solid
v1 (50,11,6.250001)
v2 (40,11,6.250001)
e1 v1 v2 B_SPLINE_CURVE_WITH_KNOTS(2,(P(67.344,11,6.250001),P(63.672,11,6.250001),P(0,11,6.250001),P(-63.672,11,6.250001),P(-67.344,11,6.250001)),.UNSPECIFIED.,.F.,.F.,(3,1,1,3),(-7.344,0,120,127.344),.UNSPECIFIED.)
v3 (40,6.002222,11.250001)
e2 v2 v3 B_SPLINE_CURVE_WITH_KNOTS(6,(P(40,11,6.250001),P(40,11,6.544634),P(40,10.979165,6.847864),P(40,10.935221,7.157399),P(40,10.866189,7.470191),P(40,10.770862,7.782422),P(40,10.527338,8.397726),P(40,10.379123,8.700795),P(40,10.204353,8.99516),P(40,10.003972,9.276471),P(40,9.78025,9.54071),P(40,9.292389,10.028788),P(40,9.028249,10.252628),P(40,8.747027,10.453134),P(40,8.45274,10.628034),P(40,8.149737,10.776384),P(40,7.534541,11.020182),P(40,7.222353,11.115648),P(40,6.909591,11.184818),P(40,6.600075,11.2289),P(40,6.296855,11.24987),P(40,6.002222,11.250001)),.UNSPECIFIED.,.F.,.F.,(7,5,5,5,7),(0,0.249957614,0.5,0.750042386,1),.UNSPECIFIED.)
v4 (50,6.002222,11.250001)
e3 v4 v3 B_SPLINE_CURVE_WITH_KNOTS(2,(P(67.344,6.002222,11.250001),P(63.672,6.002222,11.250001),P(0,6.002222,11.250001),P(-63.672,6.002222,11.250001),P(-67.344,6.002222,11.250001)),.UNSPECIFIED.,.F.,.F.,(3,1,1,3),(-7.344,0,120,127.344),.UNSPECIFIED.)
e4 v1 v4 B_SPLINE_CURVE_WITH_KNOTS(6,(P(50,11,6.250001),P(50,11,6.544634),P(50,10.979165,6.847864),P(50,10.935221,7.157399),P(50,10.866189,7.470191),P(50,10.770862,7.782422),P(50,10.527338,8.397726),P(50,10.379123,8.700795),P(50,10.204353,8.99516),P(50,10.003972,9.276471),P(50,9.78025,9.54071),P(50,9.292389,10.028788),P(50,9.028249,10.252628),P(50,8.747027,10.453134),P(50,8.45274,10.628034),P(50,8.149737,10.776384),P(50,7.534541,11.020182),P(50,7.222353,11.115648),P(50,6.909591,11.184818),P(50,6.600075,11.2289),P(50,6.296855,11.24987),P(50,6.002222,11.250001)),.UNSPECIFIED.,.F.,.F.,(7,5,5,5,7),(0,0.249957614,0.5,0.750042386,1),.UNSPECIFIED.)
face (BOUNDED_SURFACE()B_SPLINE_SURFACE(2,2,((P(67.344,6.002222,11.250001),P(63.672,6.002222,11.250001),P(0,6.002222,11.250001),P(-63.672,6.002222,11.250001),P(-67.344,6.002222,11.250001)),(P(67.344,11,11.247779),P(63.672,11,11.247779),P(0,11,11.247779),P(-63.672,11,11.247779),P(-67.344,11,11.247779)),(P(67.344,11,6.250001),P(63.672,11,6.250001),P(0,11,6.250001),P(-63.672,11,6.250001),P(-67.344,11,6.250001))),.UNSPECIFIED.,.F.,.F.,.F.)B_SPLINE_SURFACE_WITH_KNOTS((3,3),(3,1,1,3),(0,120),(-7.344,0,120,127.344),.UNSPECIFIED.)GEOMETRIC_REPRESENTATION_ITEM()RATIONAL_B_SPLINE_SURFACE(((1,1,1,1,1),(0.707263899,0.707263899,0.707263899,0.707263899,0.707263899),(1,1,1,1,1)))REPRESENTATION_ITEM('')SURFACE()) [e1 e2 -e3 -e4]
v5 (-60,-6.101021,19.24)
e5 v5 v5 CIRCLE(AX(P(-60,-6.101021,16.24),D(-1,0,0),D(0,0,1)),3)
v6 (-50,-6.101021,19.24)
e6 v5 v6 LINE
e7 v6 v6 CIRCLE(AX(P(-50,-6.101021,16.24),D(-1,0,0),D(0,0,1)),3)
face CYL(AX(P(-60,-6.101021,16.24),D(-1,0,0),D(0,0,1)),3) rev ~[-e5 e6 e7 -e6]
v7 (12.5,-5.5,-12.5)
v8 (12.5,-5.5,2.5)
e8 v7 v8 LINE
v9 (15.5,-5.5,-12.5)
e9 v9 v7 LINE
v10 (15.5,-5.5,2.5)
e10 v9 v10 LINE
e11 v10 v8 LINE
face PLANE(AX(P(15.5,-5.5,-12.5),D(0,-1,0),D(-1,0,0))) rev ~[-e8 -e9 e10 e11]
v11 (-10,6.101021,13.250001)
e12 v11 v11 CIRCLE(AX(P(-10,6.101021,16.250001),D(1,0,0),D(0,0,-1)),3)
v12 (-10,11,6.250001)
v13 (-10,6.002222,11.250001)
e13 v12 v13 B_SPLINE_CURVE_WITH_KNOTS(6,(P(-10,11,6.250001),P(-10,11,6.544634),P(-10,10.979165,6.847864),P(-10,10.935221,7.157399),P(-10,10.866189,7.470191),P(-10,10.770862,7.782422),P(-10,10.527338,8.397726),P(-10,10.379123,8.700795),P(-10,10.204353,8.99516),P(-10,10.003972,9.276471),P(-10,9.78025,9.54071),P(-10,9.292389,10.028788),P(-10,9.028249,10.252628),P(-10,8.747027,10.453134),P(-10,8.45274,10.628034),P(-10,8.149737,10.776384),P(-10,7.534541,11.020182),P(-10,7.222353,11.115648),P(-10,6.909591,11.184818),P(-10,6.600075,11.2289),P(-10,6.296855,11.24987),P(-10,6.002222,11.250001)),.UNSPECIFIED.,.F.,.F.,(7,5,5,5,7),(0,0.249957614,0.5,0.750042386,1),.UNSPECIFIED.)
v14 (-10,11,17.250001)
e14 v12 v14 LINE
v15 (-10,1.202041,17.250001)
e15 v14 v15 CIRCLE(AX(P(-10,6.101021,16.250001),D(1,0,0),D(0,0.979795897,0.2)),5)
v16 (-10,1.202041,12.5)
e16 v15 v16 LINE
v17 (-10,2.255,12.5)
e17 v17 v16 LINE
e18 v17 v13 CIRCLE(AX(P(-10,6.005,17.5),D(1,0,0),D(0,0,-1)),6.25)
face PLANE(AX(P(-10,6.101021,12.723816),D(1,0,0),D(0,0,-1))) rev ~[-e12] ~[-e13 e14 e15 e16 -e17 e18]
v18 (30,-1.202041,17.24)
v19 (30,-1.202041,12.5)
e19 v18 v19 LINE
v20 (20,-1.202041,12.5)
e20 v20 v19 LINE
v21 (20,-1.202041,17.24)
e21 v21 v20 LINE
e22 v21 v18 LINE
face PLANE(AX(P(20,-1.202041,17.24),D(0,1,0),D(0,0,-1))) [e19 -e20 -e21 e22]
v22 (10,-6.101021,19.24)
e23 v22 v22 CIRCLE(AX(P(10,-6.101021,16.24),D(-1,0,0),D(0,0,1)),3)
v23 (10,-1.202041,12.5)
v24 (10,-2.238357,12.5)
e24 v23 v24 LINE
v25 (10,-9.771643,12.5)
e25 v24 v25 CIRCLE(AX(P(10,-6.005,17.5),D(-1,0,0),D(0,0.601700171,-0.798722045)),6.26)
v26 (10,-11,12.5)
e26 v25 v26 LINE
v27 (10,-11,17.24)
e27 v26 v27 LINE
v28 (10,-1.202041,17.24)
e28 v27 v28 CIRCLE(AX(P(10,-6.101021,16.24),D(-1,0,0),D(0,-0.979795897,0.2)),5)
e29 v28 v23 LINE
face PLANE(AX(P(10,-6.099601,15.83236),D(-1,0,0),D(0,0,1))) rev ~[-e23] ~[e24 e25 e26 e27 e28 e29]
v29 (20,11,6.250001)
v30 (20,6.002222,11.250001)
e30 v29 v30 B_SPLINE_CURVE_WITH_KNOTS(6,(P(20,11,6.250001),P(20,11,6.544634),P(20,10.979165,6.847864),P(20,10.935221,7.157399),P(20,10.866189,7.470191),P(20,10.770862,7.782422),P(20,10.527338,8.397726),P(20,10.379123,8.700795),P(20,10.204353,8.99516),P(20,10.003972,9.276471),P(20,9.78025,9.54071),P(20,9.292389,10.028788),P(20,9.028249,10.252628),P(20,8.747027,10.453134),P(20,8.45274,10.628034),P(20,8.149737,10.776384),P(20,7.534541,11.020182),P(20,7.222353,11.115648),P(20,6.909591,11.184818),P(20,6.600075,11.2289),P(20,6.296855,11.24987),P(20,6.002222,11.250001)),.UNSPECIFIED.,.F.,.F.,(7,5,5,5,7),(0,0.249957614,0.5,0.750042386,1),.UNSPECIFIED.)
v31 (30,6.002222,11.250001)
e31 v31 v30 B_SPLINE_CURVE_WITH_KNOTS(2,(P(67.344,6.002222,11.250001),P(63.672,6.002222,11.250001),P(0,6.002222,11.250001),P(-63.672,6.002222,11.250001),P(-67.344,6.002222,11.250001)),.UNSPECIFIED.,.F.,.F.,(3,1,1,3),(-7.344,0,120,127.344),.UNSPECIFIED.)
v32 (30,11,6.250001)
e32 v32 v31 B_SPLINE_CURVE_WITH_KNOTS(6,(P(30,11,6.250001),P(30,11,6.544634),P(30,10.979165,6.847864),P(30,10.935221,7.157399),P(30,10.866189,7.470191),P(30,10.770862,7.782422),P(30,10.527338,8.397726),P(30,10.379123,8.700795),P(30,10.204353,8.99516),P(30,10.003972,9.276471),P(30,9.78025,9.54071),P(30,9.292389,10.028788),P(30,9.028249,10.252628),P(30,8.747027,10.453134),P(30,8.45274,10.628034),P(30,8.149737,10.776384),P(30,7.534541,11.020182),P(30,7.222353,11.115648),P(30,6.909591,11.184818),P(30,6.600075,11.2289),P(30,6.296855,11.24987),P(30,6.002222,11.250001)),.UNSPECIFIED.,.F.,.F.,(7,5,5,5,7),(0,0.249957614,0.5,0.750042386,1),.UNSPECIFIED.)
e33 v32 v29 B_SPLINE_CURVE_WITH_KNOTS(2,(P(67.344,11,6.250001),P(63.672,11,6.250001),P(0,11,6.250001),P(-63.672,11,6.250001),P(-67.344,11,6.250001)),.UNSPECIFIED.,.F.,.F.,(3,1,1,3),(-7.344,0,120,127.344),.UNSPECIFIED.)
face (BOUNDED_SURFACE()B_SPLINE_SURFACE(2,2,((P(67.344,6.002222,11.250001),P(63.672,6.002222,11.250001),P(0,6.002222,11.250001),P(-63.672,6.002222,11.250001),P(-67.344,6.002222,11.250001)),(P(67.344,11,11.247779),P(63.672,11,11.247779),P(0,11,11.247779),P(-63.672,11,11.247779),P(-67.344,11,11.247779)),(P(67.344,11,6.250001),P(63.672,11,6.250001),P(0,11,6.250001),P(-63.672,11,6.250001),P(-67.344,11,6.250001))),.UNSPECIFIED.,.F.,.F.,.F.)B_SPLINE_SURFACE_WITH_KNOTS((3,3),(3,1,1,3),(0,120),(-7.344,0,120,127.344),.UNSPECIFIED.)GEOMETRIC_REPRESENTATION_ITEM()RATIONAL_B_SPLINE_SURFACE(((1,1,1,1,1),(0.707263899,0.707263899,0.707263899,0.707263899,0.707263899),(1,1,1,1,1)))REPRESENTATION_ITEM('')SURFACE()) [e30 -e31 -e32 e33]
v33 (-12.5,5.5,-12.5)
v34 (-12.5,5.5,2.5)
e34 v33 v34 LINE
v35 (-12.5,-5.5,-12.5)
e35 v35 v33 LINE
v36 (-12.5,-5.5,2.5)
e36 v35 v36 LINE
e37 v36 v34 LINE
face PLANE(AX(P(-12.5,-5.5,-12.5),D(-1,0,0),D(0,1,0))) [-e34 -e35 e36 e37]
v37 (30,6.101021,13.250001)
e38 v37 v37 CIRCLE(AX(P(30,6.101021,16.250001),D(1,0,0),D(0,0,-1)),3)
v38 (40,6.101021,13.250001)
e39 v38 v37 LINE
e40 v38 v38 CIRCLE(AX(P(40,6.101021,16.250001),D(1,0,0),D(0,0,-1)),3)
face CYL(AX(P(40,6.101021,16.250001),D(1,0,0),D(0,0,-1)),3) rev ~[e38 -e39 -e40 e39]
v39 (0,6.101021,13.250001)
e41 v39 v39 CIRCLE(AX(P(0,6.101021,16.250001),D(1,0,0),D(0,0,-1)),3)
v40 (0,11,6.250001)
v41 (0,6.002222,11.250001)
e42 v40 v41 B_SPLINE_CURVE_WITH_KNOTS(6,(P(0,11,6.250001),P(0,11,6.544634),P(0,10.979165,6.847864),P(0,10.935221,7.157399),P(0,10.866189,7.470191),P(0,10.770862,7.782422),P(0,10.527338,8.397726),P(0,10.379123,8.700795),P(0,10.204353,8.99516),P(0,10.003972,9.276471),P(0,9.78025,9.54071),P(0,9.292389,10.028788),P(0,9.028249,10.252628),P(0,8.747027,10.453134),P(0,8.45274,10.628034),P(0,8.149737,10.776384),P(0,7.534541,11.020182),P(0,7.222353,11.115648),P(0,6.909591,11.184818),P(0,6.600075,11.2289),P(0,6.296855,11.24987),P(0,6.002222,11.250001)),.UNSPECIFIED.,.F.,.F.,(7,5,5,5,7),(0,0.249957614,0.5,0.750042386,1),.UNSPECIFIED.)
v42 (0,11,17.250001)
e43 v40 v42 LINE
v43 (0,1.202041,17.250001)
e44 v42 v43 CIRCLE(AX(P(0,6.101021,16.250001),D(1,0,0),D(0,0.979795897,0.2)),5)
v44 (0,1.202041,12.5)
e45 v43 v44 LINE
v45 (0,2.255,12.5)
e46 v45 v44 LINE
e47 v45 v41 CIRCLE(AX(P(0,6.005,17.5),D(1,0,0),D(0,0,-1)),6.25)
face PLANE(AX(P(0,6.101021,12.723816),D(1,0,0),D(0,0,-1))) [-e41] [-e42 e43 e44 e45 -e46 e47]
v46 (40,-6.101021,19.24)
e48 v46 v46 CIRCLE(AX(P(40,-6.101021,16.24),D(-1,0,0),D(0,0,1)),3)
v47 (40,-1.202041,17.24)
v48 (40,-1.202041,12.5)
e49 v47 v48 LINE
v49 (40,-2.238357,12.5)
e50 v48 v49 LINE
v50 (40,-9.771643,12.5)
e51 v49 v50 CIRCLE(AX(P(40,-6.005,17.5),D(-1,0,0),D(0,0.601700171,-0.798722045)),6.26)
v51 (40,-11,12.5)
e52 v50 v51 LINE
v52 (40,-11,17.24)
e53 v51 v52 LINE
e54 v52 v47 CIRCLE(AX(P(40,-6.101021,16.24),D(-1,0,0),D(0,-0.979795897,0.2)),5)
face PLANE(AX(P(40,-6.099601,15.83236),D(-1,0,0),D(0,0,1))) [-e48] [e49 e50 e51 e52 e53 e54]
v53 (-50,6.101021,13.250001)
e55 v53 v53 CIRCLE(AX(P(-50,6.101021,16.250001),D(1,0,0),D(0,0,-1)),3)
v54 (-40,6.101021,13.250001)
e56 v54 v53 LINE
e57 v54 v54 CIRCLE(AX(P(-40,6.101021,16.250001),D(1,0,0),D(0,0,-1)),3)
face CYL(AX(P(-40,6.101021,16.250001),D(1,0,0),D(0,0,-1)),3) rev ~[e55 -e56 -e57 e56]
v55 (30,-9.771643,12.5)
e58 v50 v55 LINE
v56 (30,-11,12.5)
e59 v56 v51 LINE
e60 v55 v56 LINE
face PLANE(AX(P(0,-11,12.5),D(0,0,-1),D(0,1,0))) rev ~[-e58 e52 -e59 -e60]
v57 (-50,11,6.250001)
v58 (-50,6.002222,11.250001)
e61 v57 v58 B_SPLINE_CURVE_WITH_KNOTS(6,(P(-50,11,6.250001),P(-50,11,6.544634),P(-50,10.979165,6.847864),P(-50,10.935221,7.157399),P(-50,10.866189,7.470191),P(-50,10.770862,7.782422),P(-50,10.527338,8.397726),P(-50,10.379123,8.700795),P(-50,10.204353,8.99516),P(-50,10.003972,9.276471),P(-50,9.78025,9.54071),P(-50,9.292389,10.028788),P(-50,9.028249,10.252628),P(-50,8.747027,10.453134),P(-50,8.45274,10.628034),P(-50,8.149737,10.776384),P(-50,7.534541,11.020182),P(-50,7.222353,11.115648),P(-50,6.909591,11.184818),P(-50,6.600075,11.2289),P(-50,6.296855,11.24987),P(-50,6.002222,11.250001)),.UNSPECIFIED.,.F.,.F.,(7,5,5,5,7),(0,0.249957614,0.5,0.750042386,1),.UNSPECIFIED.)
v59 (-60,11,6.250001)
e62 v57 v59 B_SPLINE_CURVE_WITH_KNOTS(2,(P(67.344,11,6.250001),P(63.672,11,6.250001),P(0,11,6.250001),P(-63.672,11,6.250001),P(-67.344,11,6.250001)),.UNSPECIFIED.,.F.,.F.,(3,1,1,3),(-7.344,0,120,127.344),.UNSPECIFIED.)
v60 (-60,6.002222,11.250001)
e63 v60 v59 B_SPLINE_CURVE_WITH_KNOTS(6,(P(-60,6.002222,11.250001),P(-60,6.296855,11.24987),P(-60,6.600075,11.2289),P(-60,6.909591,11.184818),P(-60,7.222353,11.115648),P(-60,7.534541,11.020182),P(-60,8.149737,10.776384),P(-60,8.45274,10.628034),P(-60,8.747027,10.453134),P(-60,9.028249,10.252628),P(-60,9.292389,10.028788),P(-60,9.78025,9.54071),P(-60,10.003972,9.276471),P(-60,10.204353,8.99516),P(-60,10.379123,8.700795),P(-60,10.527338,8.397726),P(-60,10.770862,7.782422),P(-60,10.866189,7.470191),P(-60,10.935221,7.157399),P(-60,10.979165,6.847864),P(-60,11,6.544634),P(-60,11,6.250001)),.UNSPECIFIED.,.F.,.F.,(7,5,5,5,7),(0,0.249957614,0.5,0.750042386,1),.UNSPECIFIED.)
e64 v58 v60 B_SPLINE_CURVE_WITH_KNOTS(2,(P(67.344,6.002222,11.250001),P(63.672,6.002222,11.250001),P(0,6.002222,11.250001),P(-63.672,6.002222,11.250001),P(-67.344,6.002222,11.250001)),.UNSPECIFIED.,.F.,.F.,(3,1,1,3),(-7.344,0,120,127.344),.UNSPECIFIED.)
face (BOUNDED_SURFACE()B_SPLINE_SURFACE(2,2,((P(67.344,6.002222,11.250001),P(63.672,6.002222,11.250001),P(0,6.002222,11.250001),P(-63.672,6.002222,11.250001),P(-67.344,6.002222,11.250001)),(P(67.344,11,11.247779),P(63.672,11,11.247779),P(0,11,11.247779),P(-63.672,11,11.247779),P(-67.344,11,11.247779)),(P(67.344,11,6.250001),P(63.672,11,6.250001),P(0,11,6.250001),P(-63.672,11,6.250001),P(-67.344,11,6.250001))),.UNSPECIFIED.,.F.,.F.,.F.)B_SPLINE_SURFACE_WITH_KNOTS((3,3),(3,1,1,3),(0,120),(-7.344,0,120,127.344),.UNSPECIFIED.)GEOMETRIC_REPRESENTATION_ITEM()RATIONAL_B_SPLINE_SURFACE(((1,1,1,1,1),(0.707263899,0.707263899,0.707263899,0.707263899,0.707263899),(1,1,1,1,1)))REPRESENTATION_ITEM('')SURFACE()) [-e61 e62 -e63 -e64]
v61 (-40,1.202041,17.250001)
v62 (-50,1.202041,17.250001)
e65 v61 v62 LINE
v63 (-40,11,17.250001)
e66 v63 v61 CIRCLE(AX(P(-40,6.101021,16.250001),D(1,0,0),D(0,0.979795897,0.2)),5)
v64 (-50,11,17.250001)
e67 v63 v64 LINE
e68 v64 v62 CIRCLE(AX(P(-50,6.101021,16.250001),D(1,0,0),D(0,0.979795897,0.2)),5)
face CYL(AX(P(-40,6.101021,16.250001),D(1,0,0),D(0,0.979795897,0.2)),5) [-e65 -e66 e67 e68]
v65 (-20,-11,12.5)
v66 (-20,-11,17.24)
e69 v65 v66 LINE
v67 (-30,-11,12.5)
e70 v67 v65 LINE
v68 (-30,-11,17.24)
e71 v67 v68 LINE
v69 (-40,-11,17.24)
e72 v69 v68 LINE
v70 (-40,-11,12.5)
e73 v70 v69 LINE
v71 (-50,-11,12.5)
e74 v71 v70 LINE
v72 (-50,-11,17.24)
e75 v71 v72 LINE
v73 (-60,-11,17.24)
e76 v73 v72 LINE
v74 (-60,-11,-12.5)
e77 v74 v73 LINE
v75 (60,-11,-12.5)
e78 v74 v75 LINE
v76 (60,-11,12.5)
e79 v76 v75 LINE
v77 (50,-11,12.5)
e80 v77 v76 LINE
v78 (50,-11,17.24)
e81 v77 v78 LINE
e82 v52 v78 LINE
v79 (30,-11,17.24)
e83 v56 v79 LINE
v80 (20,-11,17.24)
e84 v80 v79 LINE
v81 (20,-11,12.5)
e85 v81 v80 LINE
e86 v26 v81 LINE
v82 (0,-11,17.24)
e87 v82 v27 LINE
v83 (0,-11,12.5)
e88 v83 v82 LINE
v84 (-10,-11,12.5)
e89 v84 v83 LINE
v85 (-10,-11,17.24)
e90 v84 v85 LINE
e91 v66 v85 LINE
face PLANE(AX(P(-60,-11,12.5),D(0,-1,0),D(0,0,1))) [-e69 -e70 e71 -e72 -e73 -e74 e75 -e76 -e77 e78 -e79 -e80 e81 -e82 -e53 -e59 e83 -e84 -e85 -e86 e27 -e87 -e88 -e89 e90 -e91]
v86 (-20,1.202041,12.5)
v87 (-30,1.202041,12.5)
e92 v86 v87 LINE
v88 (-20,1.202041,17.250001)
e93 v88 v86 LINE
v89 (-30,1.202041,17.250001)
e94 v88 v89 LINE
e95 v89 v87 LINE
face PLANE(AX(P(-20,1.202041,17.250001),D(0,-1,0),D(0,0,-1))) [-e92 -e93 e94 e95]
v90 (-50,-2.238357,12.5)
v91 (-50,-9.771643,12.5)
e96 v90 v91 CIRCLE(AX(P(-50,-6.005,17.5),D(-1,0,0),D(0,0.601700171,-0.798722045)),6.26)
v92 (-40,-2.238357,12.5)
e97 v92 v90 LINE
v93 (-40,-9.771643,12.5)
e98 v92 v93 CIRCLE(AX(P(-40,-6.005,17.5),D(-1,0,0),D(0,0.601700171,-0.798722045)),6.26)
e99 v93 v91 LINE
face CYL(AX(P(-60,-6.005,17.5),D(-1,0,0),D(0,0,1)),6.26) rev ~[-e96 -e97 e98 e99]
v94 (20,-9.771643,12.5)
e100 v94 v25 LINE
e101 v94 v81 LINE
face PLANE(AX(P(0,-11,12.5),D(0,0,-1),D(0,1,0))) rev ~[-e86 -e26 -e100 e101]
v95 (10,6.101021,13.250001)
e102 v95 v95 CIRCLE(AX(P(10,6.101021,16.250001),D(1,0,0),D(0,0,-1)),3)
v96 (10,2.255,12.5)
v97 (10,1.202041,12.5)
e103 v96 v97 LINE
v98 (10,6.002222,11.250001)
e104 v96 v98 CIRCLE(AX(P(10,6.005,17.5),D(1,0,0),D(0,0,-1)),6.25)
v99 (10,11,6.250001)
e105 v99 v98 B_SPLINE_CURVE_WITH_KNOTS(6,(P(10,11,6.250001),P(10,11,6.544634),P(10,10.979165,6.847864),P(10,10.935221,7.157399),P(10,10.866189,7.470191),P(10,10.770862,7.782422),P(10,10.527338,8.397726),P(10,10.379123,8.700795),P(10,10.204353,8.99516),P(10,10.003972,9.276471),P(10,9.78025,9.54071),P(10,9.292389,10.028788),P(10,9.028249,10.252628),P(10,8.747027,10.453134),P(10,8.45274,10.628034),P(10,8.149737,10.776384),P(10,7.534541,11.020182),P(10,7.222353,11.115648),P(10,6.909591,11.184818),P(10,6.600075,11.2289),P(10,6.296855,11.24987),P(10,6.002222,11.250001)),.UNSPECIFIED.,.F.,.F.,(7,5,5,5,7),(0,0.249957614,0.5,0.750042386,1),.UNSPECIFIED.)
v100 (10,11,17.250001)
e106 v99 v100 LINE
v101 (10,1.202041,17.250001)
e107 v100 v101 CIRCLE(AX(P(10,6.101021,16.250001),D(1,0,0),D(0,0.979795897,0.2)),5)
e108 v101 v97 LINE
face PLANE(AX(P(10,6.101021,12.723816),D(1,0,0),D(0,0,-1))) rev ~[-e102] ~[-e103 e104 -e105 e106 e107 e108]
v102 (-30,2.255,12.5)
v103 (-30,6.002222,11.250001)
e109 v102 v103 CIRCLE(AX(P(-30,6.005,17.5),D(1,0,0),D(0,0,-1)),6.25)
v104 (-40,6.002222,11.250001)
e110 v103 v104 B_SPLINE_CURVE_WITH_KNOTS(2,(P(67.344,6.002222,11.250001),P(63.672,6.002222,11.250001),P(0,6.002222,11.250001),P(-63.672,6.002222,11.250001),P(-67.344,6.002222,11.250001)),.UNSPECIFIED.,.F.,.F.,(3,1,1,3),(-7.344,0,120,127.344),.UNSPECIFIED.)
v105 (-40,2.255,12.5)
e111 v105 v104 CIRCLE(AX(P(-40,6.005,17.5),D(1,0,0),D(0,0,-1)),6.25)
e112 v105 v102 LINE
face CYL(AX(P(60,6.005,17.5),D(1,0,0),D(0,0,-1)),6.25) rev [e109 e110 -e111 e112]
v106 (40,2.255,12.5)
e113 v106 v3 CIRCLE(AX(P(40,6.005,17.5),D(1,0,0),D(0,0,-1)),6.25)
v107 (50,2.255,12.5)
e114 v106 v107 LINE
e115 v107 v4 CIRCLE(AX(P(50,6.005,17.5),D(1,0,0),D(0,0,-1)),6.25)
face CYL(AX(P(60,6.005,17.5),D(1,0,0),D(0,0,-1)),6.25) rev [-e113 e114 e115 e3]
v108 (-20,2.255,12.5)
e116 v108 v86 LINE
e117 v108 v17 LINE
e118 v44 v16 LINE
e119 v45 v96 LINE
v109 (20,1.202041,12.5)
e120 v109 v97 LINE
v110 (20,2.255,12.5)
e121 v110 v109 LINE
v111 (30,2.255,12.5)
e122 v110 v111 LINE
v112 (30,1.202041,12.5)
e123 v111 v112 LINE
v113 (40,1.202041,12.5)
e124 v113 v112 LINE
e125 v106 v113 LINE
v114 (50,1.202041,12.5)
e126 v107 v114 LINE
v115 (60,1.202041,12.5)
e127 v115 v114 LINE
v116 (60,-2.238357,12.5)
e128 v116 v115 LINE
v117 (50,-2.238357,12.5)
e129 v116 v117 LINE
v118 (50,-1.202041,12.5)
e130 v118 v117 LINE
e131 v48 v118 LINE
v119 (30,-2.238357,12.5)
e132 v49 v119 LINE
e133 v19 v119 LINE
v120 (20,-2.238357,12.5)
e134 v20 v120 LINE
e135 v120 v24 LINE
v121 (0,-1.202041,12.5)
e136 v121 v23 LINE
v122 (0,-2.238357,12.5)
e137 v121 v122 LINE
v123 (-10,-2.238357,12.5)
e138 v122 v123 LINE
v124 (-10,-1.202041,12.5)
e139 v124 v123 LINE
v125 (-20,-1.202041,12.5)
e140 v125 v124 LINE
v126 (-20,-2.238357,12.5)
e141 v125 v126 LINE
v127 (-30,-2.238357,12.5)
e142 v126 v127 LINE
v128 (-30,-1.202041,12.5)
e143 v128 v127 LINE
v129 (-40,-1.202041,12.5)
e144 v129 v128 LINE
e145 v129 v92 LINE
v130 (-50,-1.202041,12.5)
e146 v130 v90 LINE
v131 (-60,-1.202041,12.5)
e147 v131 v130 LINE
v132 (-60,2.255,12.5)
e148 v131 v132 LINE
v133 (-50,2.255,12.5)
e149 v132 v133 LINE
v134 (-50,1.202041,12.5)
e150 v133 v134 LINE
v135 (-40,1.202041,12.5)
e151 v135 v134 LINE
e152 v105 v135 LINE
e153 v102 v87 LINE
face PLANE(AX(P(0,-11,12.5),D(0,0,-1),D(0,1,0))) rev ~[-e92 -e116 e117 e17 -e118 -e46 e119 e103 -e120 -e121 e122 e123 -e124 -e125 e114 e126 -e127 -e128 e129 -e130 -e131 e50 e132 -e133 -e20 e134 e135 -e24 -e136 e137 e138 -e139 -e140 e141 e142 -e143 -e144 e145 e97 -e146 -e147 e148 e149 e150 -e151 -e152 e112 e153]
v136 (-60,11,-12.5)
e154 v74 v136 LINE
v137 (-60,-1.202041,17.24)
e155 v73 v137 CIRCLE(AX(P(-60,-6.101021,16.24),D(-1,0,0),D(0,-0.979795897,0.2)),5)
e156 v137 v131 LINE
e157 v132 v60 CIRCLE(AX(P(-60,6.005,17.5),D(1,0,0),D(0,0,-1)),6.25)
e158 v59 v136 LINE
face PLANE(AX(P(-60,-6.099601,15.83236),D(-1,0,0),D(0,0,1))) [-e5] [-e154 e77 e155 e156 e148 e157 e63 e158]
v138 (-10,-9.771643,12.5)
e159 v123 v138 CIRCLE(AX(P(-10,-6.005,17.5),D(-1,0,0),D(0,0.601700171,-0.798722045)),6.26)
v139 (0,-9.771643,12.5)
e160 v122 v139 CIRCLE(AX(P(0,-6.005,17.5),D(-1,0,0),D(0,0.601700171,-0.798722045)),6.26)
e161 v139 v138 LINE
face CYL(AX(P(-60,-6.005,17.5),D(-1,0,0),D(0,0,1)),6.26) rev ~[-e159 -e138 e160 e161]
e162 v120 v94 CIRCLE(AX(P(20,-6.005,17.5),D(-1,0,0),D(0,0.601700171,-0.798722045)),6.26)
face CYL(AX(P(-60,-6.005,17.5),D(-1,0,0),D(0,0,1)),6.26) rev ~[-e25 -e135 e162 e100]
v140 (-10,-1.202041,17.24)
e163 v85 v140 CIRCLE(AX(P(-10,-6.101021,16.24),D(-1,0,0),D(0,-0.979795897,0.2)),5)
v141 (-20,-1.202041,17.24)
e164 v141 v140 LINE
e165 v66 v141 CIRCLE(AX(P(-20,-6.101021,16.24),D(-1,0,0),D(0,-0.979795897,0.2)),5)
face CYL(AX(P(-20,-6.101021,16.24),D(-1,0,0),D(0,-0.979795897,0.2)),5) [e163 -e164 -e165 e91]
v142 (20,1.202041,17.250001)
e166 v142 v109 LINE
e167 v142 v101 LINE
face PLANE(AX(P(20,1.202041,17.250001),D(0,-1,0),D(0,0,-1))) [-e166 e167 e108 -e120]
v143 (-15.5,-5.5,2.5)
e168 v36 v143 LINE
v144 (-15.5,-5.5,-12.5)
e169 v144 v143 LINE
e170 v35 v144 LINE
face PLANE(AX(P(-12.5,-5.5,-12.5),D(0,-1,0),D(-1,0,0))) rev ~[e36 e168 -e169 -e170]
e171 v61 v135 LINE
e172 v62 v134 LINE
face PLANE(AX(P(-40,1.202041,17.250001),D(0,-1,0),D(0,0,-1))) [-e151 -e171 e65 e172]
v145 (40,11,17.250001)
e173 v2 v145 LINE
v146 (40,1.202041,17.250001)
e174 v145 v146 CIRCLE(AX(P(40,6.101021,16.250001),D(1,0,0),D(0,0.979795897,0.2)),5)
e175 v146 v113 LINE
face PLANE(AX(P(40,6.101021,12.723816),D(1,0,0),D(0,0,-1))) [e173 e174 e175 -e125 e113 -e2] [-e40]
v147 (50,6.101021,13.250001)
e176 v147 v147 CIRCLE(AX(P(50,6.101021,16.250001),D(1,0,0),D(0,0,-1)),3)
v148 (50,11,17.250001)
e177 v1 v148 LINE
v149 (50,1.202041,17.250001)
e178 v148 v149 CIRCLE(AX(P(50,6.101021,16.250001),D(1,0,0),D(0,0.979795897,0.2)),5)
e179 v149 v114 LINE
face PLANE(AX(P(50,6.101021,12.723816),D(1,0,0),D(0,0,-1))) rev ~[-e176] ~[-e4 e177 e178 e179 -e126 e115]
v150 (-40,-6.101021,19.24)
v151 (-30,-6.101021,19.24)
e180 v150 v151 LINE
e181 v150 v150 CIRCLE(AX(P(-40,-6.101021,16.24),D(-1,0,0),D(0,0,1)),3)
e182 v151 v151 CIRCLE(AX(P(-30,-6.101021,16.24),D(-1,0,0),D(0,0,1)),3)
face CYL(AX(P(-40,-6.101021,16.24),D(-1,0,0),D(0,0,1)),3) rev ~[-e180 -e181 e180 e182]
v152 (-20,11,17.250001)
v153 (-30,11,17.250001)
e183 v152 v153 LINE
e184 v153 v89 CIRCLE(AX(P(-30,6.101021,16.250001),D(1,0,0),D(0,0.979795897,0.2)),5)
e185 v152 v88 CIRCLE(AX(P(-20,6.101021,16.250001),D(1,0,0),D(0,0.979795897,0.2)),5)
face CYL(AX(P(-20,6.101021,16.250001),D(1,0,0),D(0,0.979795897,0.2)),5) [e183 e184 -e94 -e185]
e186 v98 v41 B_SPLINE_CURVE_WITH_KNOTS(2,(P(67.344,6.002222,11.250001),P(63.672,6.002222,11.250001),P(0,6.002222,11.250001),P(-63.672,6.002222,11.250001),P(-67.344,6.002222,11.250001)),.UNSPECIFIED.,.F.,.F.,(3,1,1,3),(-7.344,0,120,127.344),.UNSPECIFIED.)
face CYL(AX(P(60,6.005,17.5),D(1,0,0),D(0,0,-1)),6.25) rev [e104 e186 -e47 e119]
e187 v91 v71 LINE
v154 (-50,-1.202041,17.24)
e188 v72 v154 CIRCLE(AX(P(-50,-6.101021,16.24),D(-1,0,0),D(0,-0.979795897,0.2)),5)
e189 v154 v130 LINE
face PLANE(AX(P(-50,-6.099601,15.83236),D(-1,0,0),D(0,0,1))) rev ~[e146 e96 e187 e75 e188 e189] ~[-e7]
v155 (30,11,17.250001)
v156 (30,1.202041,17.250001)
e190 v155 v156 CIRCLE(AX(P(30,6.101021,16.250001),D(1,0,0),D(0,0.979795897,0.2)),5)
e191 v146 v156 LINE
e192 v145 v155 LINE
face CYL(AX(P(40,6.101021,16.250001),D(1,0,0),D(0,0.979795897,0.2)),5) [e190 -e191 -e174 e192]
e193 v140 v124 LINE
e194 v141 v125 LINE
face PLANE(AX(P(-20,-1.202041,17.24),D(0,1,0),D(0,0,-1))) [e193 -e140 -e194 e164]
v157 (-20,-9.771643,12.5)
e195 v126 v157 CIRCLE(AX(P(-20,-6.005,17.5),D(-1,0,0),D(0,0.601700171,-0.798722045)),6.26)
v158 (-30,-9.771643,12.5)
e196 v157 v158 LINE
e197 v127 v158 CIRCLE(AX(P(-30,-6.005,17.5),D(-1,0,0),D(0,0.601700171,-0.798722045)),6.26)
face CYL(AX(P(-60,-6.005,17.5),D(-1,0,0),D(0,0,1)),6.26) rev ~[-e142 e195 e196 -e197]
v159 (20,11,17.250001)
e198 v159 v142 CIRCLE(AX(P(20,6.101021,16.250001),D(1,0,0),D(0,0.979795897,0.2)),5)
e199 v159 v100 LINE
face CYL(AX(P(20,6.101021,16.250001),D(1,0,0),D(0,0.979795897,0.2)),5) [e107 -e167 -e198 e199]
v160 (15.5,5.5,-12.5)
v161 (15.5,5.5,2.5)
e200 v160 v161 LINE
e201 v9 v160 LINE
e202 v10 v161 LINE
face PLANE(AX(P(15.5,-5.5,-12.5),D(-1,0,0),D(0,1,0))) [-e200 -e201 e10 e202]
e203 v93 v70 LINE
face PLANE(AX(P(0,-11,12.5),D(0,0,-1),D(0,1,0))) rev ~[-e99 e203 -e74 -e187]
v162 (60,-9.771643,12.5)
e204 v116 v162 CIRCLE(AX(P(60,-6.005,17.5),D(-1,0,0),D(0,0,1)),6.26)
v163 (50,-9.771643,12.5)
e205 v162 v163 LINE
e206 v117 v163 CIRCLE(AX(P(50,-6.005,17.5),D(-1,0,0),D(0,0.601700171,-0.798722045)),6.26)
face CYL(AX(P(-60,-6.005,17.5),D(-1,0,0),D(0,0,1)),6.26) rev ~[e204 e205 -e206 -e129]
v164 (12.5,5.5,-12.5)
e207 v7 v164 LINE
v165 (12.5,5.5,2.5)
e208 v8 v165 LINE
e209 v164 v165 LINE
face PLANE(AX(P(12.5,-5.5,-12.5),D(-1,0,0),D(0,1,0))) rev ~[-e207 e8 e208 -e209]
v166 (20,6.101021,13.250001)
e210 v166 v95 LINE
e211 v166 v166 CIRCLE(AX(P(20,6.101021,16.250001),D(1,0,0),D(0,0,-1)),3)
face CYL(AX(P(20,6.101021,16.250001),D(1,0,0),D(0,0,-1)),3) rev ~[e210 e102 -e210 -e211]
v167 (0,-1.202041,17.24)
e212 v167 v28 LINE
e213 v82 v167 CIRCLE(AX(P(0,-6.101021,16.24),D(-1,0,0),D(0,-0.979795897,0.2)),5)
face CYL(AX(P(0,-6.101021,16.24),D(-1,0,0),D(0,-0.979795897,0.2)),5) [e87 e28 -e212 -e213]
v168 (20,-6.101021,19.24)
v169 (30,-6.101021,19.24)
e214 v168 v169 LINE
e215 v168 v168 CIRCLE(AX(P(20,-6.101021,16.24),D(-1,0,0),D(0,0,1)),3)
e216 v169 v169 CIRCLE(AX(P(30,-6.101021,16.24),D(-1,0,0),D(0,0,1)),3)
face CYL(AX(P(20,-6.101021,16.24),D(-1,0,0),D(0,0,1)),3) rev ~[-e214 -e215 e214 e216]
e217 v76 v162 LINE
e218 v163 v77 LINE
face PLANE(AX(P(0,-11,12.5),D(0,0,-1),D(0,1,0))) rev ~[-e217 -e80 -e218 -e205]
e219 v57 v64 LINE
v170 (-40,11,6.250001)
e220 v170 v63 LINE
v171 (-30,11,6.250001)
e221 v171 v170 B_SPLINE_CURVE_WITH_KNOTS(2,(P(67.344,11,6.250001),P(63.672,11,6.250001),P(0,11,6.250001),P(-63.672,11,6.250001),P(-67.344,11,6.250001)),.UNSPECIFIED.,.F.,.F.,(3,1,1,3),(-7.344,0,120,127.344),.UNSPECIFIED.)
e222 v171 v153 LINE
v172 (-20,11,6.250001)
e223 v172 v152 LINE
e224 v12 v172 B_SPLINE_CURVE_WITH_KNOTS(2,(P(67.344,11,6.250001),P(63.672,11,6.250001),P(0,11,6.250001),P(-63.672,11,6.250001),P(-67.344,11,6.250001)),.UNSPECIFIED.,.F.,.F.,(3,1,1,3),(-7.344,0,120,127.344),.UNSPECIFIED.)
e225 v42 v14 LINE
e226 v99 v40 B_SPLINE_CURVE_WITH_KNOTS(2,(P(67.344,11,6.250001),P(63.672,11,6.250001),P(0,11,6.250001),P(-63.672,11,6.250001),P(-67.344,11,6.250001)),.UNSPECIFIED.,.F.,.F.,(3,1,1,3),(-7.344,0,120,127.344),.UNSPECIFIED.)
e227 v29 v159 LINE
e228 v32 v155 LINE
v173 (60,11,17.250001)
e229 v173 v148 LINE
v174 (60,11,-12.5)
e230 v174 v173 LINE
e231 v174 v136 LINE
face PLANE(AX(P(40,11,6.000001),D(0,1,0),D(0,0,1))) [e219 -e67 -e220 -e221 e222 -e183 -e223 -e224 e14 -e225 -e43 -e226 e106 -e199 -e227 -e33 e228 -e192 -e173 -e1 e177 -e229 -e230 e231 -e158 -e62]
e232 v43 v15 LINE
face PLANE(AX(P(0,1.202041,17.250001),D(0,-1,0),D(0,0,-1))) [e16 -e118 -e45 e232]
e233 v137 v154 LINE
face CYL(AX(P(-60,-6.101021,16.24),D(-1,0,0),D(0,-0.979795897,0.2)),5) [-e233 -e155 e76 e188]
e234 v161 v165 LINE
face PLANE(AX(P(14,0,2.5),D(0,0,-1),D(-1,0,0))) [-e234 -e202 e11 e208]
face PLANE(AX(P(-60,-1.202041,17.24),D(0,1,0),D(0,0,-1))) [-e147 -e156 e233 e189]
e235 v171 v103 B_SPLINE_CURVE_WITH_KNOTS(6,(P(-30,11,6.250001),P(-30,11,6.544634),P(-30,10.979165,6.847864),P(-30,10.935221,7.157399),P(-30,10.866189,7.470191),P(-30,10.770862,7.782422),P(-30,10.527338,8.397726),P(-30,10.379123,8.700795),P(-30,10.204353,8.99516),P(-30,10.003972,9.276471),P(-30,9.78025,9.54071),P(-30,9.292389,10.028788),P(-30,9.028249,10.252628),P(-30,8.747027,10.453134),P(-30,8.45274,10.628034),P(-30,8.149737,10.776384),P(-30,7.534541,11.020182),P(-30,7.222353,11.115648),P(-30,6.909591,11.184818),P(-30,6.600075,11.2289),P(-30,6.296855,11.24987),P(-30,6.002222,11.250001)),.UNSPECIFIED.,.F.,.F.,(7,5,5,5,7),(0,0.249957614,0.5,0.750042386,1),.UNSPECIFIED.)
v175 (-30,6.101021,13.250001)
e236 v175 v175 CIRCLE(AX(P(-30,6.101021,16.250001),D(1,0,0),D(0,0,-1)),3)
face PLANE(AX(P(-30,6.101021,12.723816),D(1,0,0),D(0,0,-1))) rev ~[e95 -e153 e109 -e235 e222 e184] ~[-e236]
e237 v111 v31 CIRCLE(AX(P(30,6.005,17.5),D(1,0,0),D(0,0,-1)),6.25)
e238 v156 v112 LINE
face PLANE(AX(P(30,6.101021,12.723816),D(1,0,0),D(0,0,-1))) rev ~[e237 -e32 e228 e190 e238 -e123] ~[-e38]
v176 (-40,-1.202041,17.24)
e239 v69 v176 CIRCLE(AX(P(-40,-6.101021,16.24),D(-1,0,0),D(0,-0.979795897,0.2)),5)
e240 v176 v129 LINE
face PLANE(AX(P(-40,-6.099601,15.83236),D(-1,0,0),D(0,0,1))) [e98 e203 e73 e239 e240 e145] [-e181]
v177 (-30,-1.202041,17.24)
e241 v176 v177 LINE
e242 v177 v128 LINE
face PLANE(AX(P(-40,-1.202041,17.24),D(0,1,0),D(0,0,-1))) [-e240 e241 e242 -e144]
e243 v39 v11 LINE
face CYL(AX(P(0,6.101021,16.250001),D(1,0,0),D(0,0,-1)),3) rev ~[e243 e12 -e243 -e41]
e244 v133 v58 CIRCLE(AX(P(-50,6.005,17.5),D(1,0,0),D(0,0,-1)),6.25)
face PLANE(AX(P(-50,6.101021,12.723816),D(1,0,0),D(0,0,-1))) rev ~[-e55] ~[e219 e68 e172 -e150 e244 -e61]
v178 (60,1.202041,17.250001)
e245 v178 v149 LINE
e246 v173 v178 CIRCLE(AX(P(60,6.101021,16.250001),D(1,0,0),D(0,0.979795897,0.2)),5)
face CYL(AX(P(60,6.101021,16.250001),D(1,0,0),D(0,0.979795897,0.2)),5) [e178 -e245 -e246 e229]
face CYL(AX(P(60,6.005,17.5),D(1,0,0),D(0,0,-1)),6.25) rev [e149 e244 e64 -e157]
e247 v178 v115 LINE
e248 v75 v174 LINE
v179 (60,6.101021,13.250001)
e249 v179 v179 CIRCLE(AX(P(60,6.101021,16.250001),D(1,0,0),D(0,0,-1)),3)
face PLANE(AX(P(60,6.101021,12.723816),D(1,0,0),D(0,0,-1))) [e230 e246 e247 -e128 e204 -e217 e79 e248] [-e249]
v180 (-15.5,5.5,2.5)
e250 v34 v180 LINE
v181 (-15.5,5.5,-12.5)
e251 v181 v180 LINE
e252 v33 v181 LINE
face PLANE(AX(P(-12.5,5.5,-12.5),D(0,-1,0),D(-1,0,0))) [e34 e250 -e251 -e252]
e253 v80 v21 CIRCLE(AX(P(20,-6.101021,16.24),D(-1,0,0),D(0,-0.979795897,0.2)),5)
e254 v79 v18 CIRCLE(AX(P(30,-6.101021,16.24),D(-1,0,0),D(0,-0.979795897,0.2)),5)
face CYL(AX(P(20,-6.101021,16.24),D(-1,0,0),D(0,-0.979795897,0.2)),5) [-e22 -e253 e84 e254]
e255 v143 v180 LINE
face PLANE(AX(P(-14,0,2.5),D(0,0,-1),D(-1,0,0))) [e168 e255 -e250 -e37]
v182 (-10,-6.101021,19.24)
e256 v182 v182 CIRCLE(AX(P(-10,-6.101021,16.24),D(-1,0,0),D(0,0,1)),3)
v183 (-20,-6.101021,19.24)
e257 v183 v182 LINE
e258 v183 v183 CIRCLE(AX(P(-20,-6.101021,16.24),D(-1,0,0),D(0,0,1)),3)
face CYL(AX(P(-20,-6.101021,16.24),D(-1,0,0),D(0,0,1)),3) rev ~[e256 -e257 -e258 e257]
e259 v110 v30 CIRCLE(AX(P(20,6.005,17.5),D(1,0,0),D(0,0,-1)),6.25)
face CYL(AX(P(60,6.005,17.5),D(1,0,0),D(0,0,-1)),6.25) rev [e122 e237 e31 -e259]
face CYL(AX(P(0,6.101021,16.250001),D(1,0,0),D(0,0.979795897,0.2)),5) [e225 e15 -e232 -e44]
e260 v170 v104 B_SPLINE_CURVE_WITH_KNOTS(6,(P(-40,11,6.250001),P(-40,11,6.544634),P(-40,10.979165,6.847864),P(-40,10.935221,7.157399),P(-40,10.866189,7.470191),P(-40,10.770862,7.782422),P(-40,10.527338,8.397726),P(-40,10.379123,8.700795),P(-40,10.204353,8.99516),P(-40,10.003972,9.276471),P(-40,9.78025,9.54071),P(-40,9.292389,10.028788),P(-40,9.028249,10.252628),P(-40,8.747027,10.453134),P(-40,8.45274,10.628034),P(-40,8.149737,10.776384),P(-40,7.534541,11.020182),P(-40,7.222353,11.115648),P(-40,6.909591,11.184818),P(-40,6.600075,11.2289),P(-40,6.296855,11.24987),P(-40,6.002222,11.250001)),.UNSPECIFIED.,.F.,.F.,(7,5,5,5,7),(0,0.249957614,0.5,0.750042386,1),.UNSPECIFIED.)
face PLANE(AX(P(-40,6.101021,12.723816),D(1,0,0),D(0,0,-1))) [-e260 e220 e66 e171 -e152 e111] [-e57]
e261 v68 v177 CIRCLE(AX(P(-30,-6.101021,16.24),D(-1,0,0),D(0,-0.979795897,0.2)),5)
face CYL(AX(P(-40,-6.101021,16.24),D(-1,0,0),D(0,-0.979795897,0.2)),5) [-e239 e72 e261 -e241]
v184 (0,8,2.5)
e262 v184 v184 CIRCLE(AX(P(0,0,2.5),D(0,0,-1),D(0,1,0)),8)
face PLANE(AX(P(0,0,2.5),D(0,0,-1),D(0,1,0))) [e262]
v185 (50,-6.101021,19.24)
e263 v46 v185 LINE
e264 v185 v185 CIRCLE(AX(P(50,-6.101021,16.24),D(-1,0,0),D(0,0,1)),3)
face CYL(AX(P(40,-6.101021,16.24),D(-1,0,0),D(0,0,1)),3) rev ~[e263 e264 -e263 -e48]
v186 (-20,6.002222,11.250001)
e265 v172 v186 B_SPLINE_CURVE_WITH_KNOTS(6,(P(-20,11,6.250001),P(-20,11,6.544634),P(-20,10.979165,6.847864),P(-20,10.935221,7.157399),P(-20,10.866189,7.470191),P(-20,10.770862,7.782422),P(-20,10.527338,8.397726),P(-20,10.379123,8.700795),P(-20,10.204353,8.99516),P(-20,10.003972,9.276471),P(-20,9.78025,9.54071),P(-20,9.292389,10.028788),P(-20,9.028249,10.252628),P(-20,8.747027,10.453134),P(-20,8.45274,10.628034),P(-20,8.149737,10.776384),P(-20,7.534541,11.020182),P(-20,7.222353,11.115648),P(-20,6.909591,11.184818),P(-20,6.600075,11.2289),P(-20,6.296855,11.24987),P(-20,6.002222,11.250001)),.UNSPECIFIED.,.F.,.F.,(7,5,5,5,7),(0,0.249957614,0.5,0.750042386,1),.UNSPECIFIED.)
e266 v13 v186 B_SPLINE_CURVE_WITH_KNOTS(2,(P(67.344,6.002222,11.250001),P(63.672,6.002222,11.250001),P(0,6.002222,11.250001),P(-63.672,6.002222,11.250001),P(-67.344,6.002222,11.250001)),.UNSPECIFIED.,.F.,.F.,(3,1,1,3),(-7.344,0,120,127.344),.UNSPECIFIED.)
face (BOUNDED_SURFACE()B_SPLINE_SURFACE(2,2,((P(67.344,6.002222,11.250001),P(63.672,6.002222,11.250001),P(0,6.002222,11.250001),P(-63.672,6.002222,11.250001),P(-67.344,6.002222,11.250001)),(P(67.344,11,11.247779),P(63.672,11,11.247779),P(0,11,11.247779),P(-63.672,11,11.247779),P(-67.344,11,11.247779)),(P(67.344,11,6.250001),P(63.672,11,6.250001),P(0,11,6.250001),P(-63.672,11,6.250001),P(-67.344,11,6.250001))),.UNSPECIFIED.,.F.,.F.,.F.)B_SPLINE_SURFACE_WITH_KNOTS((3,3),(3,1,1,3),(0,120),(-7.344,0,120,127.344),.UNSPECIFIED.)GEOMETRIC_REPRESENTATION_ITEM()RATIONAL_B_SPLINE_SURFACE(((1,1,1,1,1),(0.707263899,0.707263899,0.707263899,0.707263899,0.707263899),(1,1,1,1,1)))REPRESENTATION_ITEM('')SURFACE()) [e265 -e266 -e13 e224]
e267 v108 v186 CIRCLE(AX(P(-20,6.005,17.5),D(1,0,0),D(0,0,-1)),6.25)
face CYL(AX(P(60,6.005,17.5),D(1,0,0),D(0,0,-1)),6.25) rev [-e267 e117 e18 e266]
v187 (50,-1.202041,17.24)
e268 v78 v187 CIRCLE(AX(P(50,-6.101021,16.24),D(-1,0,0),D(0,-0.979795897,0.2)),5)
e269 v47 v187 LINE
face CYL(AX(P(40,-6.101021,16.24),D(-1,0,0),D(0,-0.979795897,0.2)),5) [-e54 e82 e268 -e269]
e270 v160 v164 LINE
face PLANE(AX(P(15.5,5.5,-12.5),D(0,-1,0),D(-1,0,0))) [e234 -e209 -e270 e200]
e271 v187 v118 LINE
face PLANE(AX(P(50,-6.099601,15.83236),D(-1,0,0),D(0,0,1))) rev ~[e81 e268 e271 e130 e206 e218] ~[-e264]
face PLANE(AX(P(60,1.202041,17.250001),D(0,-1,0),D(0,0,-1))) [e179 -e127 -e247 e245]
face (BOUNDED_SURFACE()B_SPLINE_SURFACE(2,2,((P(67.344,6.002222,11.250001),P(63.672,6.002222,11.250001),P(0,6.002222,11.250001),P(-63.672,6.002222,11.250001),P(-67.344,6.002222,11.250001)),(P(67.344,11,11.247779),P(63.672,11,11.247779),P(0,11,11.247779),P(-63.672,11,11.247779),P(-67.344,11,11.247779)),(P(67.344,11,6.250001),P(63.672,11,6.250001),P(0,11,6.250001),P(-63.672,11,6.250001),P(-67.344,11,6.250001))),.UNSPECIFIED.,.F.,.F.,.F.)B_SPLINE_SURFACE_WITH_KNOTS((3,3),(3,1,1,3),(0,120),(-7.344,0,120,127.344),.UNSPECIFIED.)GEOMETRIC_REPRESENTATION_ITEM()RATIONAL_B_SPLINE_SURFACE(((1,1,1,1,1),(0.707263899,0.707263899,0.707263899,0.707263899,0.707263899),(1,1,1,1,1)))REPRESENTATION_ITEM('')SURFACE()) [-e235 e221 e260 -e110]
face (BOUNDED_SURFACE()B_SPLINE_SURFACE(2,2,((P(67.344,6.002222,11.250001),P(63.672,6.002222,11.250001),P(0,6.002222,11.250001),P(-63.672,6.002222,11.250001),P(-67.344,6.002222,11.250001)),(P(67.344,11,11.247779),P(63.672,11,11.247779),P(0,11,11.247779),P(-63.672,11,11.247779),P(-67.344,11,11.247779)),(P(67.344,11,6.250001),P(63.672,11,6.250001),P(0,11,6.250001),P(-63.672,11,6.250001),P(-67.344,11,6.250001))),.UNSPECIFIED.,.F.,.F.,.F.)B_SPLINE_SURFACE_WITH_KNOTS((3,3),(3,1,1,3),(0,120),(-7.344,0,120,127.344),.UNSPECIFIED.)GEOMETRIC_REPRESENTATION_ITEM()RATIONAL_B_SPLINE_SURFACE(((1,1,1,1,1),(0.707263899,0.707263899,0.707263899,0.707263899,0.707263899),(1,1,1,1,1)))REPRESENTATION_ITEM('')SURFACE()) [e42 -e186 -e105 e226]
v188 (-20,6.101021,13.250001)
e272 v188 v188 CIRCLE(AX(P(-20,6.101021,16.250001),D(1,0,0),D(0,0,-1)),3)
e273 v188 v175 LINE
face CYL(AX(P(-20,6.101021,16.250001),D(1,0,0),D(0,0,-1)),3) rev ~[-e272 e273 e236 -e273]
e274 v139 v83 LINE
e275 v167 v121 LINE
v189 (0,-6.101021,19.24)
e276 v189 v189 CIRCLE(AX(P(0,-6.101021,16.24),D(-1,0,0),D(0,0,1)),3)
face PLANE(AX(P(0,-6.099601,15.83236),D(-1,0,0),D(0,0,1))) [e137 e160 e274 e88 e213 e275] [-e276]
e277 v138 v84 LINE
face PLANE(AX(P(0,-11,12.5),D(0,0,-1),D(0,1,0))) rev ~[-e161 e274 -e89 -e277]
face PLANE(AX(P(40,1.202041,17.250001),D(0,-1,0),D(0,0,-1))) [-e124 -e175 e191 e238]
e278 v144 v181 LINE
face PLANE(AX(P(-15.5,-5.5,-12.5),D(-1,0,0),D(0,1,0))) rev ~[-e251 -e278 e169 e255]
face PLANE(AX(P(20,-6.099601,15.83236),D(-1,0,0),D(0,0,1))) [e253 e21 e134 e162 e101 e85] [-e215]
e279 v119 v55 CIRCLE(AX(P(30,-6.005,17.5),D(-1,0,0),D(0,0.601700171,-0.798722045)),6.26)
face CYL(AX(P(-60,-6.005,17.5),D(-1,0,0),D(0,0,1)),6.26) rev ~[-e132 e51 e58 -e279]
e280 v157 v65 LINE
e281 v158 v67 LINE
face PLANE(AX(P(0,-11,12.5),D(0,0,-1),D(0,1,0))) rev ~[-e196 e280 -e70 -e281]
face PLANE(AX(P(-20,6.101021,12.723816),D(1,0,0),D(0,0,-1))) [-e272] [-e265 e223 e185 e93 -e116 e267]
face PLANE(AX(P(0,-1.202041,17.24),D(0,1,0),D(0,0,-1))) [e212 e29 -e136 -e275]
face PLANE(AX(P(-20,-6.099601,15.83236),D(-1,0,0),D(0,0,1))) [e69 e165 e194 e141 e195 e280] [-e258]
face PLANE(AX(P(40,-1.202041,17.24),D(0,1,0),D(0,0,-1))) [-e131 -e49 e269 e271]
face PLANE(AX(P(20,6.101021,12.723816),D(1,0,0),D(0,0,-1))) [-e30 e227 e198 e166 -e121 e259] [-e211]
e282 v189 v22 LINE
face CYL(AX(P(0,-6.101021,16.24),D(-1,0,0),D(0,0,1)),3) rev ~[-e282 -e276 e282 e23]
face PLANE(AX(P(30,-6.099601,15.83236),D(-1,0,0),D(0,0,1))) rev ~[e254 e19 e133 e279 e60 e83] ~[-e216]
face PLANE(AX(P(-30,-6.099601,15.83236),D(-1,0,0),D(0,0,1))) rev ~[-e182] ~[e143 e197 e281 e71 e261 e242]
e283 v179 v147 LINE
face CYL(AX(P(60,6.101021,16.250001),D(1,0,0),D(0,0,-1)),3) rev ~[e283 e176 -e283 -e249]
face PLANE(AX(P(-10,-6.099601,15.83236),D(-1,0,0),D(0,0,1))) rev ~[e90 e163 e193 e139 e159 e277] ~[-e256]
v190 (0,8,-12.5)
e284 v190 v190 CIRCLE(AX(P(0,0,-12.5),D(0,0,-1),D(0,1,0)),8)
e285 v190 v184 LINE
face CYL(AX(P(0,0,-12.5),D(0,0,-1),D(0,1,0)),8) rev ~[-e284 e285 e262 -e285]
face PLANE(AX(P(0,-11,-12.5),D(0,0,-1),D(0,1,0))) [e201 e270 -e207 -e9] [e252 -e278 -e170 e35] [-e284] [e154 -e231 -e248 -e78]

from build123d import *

# Parameters (mm, degrees)
SKETCH1_W           = 25
SKETCH1_H           = 22
BOSS_EXTRUDE1_DEPTH = 60
CUT_EXTRUDE2_REACH  = 123.15
CUT_EXTRUDE3_REACH  = 123.15
SKETCH6_R           = 6.26
FILLET1_R           = 5
SKETCH2_R           = 3
BOSS_EXTRUDE2_DEPTH = 10
LPATTERN1_COUNT     = 6
LPATTERN1_PITCH     = 20
SKETCH3_R           = 3
BOSS_EXTRUDE3_DEPTH = 10
LPATTERN2_COUNT     = 6
LPATTERN2_PITCH     = 20
SKETCH4_R           = 8
SKETCH4_W           = 3
SKETCH4_H           = 11
CUT_EXTRUDE1_DEPTH  = 15


with BuildPart() as part:
    # Sketch1 → Boss-Extrude1 (new, symmetric)
    with BuildSketch(Plane(origin=(0, 0, 0), x_dir=(0, 0, -1), z_dir=(1, 0, 0))):
        Rectangle(SKETCH1_W, SKETCH1_H)
    extrude(amount=BOSS_EXTRUDE1_DEPTH, both=True)

    # Sketch5 → Cut-Extrude2 (cut, up to next)
    with BuildSketch(Plane(origin=(60, 0, 0), x_dir=(0, 0, -1), z_dir=(1, 0, 0)), mode=Mode.PRIVATE) as cut_extrude2_sk1:
        with BuildLine():
            Line((-13.743342576, 11), (-11.25, 11))
            Line((-11.25, 11), (-11.25, 6.005))
            ThreePointArc((-11.25, 6.005), (-23.092030441, 3.213639122), (-13.743342576, 11))
        make_face()
    cut_extrude2_tool1 = extrude(cut_extrude2_sk1.sketch, amount=-CUT_EXTRUDE2_REACH, mode=Mode.PRIVATE) & part.part
    add(cut_extrude2_tool1.solids().sort_by_distance((60, 6.117758, 17.335764))[0], mode=Mode.SUBTRACT)

    # Sketch6 → Cut-Extrude3 (cut, up to next)
    with BuildSketch(Plane.ZY.offset(60), mode=Mode.PRIVATE) as cut_extrude3_sk1:
        with Locations((17.5, -6.005)):
            Circle(SKETCH6_R)
    cut_extrude3_tool1 = extrude(cut_extrude3_sk1.sketch, amount=-CUT_EXTRUDE3_REACH, mode=Mode.PRIVATE) & part.part
    add(cut_extrude3_tool1.solids().sort_by_distance((-60, -6.005, 17.5))[0], mode=Mode.SUBTRACT)

    # Fillet1
    fillet1_edges = [part.edges().sort_by_distance(p)[0] for p in [
        (0, 11, 11.25),
    ]]
    fillet(fillet1_edges, radius=FILLET1_R)

    # Sketch2 → Boss-Extrude2 (add)
    with BuildSketch(Plane(origin=(60, 0, 0), x_dir=(0, 0, -1), z_dir=(1, 0, 0))):
        with BuildLine():
            Line((-17.250000617, 1.202041029), (-6.000000617, 1.202041029))
            Line((-6.000000617, 1.202041029), (-6.000000617, 11))
            Line((-6.000000617, 11), (-17.250000617, 11))
            ThreePointArc((-17.250000617, 11), (-21.250000617, 6.101020514), (-17.250000617, 1.202041029))
        make_face()
        with Locations((-16.250000617, 6.101020514)):
            Circle(SKETCH2_R, mode=Mode.SUBTRACT)
    boss_extrude2 = extrude(amount=-BOSS_EXTRUDE2_DEPTH)

    # LPattern1: Boss-Extrude2 ×6
    with Locations(*[(-i * LPATTERN1_PITCH, 0, 0) for i in range(1, LPATTERN1_COUNT)]):
        add(boss_extrude2)

    # Sketch3 → Boss-Extrude3 (add)
    with BuildSketch(Plane.ZY.offset(60)):
        with BuildLine():
            Line((17.24, -1.202041029), (12.5, -1.202041029))
            Line((12.5, -1.202041029), (12.5, -2.238356932))
            ThreePointArc((12.5, -2.238356932), (11.24, -6.005), (12.5, -9.771643068))
            Line((12.5, -9.771643068), (12.5, -11))
            Line((12.5, -11), (17.24, -11))
            ThreePointArc((17.24, -11), (21.24, -6.101020514), (17.24, -1.202041029))
        make_face()
        with Locations((16.24, -6.101020514)):
            Circle(SKETCH3_R, mode=Mode.SUBTRACT)
    boss_extrude3 = extrude(amount=-BOSS_EXTRUDE3_DEPTH)

    # LPattern2: Boss-Extrude3 ×6
    with Locations(*[(i * LPATTERN2_PITCH, 0, 0) for i in range(1, LPATTERN2_COUNT)]):
        add(boss_extrude3)

    # Sketch4 → Cut-Extrude1 (cut)
    with BuildSketch(Plane(origin=(0, 0, -12.5), x_dir=(-1, 0, 0), z_dir=(0, 0, -1))):
        with Locations(Location((0, 0, 0), (0, 0, 90))):
            Circle(SKETCH4_R)
        with Locations((-14, 0)):
            Rectangle(SKETCH4_W, SKETCH4_H)
        with Locations((14, 0)):
            Rectangle(SKETCH4_W, SKETCH4_H)
    extrude(amount=-CUT_EXTRUDE1_DEPTH, mode=Mode.SUBTRACT)


solid = part.part
